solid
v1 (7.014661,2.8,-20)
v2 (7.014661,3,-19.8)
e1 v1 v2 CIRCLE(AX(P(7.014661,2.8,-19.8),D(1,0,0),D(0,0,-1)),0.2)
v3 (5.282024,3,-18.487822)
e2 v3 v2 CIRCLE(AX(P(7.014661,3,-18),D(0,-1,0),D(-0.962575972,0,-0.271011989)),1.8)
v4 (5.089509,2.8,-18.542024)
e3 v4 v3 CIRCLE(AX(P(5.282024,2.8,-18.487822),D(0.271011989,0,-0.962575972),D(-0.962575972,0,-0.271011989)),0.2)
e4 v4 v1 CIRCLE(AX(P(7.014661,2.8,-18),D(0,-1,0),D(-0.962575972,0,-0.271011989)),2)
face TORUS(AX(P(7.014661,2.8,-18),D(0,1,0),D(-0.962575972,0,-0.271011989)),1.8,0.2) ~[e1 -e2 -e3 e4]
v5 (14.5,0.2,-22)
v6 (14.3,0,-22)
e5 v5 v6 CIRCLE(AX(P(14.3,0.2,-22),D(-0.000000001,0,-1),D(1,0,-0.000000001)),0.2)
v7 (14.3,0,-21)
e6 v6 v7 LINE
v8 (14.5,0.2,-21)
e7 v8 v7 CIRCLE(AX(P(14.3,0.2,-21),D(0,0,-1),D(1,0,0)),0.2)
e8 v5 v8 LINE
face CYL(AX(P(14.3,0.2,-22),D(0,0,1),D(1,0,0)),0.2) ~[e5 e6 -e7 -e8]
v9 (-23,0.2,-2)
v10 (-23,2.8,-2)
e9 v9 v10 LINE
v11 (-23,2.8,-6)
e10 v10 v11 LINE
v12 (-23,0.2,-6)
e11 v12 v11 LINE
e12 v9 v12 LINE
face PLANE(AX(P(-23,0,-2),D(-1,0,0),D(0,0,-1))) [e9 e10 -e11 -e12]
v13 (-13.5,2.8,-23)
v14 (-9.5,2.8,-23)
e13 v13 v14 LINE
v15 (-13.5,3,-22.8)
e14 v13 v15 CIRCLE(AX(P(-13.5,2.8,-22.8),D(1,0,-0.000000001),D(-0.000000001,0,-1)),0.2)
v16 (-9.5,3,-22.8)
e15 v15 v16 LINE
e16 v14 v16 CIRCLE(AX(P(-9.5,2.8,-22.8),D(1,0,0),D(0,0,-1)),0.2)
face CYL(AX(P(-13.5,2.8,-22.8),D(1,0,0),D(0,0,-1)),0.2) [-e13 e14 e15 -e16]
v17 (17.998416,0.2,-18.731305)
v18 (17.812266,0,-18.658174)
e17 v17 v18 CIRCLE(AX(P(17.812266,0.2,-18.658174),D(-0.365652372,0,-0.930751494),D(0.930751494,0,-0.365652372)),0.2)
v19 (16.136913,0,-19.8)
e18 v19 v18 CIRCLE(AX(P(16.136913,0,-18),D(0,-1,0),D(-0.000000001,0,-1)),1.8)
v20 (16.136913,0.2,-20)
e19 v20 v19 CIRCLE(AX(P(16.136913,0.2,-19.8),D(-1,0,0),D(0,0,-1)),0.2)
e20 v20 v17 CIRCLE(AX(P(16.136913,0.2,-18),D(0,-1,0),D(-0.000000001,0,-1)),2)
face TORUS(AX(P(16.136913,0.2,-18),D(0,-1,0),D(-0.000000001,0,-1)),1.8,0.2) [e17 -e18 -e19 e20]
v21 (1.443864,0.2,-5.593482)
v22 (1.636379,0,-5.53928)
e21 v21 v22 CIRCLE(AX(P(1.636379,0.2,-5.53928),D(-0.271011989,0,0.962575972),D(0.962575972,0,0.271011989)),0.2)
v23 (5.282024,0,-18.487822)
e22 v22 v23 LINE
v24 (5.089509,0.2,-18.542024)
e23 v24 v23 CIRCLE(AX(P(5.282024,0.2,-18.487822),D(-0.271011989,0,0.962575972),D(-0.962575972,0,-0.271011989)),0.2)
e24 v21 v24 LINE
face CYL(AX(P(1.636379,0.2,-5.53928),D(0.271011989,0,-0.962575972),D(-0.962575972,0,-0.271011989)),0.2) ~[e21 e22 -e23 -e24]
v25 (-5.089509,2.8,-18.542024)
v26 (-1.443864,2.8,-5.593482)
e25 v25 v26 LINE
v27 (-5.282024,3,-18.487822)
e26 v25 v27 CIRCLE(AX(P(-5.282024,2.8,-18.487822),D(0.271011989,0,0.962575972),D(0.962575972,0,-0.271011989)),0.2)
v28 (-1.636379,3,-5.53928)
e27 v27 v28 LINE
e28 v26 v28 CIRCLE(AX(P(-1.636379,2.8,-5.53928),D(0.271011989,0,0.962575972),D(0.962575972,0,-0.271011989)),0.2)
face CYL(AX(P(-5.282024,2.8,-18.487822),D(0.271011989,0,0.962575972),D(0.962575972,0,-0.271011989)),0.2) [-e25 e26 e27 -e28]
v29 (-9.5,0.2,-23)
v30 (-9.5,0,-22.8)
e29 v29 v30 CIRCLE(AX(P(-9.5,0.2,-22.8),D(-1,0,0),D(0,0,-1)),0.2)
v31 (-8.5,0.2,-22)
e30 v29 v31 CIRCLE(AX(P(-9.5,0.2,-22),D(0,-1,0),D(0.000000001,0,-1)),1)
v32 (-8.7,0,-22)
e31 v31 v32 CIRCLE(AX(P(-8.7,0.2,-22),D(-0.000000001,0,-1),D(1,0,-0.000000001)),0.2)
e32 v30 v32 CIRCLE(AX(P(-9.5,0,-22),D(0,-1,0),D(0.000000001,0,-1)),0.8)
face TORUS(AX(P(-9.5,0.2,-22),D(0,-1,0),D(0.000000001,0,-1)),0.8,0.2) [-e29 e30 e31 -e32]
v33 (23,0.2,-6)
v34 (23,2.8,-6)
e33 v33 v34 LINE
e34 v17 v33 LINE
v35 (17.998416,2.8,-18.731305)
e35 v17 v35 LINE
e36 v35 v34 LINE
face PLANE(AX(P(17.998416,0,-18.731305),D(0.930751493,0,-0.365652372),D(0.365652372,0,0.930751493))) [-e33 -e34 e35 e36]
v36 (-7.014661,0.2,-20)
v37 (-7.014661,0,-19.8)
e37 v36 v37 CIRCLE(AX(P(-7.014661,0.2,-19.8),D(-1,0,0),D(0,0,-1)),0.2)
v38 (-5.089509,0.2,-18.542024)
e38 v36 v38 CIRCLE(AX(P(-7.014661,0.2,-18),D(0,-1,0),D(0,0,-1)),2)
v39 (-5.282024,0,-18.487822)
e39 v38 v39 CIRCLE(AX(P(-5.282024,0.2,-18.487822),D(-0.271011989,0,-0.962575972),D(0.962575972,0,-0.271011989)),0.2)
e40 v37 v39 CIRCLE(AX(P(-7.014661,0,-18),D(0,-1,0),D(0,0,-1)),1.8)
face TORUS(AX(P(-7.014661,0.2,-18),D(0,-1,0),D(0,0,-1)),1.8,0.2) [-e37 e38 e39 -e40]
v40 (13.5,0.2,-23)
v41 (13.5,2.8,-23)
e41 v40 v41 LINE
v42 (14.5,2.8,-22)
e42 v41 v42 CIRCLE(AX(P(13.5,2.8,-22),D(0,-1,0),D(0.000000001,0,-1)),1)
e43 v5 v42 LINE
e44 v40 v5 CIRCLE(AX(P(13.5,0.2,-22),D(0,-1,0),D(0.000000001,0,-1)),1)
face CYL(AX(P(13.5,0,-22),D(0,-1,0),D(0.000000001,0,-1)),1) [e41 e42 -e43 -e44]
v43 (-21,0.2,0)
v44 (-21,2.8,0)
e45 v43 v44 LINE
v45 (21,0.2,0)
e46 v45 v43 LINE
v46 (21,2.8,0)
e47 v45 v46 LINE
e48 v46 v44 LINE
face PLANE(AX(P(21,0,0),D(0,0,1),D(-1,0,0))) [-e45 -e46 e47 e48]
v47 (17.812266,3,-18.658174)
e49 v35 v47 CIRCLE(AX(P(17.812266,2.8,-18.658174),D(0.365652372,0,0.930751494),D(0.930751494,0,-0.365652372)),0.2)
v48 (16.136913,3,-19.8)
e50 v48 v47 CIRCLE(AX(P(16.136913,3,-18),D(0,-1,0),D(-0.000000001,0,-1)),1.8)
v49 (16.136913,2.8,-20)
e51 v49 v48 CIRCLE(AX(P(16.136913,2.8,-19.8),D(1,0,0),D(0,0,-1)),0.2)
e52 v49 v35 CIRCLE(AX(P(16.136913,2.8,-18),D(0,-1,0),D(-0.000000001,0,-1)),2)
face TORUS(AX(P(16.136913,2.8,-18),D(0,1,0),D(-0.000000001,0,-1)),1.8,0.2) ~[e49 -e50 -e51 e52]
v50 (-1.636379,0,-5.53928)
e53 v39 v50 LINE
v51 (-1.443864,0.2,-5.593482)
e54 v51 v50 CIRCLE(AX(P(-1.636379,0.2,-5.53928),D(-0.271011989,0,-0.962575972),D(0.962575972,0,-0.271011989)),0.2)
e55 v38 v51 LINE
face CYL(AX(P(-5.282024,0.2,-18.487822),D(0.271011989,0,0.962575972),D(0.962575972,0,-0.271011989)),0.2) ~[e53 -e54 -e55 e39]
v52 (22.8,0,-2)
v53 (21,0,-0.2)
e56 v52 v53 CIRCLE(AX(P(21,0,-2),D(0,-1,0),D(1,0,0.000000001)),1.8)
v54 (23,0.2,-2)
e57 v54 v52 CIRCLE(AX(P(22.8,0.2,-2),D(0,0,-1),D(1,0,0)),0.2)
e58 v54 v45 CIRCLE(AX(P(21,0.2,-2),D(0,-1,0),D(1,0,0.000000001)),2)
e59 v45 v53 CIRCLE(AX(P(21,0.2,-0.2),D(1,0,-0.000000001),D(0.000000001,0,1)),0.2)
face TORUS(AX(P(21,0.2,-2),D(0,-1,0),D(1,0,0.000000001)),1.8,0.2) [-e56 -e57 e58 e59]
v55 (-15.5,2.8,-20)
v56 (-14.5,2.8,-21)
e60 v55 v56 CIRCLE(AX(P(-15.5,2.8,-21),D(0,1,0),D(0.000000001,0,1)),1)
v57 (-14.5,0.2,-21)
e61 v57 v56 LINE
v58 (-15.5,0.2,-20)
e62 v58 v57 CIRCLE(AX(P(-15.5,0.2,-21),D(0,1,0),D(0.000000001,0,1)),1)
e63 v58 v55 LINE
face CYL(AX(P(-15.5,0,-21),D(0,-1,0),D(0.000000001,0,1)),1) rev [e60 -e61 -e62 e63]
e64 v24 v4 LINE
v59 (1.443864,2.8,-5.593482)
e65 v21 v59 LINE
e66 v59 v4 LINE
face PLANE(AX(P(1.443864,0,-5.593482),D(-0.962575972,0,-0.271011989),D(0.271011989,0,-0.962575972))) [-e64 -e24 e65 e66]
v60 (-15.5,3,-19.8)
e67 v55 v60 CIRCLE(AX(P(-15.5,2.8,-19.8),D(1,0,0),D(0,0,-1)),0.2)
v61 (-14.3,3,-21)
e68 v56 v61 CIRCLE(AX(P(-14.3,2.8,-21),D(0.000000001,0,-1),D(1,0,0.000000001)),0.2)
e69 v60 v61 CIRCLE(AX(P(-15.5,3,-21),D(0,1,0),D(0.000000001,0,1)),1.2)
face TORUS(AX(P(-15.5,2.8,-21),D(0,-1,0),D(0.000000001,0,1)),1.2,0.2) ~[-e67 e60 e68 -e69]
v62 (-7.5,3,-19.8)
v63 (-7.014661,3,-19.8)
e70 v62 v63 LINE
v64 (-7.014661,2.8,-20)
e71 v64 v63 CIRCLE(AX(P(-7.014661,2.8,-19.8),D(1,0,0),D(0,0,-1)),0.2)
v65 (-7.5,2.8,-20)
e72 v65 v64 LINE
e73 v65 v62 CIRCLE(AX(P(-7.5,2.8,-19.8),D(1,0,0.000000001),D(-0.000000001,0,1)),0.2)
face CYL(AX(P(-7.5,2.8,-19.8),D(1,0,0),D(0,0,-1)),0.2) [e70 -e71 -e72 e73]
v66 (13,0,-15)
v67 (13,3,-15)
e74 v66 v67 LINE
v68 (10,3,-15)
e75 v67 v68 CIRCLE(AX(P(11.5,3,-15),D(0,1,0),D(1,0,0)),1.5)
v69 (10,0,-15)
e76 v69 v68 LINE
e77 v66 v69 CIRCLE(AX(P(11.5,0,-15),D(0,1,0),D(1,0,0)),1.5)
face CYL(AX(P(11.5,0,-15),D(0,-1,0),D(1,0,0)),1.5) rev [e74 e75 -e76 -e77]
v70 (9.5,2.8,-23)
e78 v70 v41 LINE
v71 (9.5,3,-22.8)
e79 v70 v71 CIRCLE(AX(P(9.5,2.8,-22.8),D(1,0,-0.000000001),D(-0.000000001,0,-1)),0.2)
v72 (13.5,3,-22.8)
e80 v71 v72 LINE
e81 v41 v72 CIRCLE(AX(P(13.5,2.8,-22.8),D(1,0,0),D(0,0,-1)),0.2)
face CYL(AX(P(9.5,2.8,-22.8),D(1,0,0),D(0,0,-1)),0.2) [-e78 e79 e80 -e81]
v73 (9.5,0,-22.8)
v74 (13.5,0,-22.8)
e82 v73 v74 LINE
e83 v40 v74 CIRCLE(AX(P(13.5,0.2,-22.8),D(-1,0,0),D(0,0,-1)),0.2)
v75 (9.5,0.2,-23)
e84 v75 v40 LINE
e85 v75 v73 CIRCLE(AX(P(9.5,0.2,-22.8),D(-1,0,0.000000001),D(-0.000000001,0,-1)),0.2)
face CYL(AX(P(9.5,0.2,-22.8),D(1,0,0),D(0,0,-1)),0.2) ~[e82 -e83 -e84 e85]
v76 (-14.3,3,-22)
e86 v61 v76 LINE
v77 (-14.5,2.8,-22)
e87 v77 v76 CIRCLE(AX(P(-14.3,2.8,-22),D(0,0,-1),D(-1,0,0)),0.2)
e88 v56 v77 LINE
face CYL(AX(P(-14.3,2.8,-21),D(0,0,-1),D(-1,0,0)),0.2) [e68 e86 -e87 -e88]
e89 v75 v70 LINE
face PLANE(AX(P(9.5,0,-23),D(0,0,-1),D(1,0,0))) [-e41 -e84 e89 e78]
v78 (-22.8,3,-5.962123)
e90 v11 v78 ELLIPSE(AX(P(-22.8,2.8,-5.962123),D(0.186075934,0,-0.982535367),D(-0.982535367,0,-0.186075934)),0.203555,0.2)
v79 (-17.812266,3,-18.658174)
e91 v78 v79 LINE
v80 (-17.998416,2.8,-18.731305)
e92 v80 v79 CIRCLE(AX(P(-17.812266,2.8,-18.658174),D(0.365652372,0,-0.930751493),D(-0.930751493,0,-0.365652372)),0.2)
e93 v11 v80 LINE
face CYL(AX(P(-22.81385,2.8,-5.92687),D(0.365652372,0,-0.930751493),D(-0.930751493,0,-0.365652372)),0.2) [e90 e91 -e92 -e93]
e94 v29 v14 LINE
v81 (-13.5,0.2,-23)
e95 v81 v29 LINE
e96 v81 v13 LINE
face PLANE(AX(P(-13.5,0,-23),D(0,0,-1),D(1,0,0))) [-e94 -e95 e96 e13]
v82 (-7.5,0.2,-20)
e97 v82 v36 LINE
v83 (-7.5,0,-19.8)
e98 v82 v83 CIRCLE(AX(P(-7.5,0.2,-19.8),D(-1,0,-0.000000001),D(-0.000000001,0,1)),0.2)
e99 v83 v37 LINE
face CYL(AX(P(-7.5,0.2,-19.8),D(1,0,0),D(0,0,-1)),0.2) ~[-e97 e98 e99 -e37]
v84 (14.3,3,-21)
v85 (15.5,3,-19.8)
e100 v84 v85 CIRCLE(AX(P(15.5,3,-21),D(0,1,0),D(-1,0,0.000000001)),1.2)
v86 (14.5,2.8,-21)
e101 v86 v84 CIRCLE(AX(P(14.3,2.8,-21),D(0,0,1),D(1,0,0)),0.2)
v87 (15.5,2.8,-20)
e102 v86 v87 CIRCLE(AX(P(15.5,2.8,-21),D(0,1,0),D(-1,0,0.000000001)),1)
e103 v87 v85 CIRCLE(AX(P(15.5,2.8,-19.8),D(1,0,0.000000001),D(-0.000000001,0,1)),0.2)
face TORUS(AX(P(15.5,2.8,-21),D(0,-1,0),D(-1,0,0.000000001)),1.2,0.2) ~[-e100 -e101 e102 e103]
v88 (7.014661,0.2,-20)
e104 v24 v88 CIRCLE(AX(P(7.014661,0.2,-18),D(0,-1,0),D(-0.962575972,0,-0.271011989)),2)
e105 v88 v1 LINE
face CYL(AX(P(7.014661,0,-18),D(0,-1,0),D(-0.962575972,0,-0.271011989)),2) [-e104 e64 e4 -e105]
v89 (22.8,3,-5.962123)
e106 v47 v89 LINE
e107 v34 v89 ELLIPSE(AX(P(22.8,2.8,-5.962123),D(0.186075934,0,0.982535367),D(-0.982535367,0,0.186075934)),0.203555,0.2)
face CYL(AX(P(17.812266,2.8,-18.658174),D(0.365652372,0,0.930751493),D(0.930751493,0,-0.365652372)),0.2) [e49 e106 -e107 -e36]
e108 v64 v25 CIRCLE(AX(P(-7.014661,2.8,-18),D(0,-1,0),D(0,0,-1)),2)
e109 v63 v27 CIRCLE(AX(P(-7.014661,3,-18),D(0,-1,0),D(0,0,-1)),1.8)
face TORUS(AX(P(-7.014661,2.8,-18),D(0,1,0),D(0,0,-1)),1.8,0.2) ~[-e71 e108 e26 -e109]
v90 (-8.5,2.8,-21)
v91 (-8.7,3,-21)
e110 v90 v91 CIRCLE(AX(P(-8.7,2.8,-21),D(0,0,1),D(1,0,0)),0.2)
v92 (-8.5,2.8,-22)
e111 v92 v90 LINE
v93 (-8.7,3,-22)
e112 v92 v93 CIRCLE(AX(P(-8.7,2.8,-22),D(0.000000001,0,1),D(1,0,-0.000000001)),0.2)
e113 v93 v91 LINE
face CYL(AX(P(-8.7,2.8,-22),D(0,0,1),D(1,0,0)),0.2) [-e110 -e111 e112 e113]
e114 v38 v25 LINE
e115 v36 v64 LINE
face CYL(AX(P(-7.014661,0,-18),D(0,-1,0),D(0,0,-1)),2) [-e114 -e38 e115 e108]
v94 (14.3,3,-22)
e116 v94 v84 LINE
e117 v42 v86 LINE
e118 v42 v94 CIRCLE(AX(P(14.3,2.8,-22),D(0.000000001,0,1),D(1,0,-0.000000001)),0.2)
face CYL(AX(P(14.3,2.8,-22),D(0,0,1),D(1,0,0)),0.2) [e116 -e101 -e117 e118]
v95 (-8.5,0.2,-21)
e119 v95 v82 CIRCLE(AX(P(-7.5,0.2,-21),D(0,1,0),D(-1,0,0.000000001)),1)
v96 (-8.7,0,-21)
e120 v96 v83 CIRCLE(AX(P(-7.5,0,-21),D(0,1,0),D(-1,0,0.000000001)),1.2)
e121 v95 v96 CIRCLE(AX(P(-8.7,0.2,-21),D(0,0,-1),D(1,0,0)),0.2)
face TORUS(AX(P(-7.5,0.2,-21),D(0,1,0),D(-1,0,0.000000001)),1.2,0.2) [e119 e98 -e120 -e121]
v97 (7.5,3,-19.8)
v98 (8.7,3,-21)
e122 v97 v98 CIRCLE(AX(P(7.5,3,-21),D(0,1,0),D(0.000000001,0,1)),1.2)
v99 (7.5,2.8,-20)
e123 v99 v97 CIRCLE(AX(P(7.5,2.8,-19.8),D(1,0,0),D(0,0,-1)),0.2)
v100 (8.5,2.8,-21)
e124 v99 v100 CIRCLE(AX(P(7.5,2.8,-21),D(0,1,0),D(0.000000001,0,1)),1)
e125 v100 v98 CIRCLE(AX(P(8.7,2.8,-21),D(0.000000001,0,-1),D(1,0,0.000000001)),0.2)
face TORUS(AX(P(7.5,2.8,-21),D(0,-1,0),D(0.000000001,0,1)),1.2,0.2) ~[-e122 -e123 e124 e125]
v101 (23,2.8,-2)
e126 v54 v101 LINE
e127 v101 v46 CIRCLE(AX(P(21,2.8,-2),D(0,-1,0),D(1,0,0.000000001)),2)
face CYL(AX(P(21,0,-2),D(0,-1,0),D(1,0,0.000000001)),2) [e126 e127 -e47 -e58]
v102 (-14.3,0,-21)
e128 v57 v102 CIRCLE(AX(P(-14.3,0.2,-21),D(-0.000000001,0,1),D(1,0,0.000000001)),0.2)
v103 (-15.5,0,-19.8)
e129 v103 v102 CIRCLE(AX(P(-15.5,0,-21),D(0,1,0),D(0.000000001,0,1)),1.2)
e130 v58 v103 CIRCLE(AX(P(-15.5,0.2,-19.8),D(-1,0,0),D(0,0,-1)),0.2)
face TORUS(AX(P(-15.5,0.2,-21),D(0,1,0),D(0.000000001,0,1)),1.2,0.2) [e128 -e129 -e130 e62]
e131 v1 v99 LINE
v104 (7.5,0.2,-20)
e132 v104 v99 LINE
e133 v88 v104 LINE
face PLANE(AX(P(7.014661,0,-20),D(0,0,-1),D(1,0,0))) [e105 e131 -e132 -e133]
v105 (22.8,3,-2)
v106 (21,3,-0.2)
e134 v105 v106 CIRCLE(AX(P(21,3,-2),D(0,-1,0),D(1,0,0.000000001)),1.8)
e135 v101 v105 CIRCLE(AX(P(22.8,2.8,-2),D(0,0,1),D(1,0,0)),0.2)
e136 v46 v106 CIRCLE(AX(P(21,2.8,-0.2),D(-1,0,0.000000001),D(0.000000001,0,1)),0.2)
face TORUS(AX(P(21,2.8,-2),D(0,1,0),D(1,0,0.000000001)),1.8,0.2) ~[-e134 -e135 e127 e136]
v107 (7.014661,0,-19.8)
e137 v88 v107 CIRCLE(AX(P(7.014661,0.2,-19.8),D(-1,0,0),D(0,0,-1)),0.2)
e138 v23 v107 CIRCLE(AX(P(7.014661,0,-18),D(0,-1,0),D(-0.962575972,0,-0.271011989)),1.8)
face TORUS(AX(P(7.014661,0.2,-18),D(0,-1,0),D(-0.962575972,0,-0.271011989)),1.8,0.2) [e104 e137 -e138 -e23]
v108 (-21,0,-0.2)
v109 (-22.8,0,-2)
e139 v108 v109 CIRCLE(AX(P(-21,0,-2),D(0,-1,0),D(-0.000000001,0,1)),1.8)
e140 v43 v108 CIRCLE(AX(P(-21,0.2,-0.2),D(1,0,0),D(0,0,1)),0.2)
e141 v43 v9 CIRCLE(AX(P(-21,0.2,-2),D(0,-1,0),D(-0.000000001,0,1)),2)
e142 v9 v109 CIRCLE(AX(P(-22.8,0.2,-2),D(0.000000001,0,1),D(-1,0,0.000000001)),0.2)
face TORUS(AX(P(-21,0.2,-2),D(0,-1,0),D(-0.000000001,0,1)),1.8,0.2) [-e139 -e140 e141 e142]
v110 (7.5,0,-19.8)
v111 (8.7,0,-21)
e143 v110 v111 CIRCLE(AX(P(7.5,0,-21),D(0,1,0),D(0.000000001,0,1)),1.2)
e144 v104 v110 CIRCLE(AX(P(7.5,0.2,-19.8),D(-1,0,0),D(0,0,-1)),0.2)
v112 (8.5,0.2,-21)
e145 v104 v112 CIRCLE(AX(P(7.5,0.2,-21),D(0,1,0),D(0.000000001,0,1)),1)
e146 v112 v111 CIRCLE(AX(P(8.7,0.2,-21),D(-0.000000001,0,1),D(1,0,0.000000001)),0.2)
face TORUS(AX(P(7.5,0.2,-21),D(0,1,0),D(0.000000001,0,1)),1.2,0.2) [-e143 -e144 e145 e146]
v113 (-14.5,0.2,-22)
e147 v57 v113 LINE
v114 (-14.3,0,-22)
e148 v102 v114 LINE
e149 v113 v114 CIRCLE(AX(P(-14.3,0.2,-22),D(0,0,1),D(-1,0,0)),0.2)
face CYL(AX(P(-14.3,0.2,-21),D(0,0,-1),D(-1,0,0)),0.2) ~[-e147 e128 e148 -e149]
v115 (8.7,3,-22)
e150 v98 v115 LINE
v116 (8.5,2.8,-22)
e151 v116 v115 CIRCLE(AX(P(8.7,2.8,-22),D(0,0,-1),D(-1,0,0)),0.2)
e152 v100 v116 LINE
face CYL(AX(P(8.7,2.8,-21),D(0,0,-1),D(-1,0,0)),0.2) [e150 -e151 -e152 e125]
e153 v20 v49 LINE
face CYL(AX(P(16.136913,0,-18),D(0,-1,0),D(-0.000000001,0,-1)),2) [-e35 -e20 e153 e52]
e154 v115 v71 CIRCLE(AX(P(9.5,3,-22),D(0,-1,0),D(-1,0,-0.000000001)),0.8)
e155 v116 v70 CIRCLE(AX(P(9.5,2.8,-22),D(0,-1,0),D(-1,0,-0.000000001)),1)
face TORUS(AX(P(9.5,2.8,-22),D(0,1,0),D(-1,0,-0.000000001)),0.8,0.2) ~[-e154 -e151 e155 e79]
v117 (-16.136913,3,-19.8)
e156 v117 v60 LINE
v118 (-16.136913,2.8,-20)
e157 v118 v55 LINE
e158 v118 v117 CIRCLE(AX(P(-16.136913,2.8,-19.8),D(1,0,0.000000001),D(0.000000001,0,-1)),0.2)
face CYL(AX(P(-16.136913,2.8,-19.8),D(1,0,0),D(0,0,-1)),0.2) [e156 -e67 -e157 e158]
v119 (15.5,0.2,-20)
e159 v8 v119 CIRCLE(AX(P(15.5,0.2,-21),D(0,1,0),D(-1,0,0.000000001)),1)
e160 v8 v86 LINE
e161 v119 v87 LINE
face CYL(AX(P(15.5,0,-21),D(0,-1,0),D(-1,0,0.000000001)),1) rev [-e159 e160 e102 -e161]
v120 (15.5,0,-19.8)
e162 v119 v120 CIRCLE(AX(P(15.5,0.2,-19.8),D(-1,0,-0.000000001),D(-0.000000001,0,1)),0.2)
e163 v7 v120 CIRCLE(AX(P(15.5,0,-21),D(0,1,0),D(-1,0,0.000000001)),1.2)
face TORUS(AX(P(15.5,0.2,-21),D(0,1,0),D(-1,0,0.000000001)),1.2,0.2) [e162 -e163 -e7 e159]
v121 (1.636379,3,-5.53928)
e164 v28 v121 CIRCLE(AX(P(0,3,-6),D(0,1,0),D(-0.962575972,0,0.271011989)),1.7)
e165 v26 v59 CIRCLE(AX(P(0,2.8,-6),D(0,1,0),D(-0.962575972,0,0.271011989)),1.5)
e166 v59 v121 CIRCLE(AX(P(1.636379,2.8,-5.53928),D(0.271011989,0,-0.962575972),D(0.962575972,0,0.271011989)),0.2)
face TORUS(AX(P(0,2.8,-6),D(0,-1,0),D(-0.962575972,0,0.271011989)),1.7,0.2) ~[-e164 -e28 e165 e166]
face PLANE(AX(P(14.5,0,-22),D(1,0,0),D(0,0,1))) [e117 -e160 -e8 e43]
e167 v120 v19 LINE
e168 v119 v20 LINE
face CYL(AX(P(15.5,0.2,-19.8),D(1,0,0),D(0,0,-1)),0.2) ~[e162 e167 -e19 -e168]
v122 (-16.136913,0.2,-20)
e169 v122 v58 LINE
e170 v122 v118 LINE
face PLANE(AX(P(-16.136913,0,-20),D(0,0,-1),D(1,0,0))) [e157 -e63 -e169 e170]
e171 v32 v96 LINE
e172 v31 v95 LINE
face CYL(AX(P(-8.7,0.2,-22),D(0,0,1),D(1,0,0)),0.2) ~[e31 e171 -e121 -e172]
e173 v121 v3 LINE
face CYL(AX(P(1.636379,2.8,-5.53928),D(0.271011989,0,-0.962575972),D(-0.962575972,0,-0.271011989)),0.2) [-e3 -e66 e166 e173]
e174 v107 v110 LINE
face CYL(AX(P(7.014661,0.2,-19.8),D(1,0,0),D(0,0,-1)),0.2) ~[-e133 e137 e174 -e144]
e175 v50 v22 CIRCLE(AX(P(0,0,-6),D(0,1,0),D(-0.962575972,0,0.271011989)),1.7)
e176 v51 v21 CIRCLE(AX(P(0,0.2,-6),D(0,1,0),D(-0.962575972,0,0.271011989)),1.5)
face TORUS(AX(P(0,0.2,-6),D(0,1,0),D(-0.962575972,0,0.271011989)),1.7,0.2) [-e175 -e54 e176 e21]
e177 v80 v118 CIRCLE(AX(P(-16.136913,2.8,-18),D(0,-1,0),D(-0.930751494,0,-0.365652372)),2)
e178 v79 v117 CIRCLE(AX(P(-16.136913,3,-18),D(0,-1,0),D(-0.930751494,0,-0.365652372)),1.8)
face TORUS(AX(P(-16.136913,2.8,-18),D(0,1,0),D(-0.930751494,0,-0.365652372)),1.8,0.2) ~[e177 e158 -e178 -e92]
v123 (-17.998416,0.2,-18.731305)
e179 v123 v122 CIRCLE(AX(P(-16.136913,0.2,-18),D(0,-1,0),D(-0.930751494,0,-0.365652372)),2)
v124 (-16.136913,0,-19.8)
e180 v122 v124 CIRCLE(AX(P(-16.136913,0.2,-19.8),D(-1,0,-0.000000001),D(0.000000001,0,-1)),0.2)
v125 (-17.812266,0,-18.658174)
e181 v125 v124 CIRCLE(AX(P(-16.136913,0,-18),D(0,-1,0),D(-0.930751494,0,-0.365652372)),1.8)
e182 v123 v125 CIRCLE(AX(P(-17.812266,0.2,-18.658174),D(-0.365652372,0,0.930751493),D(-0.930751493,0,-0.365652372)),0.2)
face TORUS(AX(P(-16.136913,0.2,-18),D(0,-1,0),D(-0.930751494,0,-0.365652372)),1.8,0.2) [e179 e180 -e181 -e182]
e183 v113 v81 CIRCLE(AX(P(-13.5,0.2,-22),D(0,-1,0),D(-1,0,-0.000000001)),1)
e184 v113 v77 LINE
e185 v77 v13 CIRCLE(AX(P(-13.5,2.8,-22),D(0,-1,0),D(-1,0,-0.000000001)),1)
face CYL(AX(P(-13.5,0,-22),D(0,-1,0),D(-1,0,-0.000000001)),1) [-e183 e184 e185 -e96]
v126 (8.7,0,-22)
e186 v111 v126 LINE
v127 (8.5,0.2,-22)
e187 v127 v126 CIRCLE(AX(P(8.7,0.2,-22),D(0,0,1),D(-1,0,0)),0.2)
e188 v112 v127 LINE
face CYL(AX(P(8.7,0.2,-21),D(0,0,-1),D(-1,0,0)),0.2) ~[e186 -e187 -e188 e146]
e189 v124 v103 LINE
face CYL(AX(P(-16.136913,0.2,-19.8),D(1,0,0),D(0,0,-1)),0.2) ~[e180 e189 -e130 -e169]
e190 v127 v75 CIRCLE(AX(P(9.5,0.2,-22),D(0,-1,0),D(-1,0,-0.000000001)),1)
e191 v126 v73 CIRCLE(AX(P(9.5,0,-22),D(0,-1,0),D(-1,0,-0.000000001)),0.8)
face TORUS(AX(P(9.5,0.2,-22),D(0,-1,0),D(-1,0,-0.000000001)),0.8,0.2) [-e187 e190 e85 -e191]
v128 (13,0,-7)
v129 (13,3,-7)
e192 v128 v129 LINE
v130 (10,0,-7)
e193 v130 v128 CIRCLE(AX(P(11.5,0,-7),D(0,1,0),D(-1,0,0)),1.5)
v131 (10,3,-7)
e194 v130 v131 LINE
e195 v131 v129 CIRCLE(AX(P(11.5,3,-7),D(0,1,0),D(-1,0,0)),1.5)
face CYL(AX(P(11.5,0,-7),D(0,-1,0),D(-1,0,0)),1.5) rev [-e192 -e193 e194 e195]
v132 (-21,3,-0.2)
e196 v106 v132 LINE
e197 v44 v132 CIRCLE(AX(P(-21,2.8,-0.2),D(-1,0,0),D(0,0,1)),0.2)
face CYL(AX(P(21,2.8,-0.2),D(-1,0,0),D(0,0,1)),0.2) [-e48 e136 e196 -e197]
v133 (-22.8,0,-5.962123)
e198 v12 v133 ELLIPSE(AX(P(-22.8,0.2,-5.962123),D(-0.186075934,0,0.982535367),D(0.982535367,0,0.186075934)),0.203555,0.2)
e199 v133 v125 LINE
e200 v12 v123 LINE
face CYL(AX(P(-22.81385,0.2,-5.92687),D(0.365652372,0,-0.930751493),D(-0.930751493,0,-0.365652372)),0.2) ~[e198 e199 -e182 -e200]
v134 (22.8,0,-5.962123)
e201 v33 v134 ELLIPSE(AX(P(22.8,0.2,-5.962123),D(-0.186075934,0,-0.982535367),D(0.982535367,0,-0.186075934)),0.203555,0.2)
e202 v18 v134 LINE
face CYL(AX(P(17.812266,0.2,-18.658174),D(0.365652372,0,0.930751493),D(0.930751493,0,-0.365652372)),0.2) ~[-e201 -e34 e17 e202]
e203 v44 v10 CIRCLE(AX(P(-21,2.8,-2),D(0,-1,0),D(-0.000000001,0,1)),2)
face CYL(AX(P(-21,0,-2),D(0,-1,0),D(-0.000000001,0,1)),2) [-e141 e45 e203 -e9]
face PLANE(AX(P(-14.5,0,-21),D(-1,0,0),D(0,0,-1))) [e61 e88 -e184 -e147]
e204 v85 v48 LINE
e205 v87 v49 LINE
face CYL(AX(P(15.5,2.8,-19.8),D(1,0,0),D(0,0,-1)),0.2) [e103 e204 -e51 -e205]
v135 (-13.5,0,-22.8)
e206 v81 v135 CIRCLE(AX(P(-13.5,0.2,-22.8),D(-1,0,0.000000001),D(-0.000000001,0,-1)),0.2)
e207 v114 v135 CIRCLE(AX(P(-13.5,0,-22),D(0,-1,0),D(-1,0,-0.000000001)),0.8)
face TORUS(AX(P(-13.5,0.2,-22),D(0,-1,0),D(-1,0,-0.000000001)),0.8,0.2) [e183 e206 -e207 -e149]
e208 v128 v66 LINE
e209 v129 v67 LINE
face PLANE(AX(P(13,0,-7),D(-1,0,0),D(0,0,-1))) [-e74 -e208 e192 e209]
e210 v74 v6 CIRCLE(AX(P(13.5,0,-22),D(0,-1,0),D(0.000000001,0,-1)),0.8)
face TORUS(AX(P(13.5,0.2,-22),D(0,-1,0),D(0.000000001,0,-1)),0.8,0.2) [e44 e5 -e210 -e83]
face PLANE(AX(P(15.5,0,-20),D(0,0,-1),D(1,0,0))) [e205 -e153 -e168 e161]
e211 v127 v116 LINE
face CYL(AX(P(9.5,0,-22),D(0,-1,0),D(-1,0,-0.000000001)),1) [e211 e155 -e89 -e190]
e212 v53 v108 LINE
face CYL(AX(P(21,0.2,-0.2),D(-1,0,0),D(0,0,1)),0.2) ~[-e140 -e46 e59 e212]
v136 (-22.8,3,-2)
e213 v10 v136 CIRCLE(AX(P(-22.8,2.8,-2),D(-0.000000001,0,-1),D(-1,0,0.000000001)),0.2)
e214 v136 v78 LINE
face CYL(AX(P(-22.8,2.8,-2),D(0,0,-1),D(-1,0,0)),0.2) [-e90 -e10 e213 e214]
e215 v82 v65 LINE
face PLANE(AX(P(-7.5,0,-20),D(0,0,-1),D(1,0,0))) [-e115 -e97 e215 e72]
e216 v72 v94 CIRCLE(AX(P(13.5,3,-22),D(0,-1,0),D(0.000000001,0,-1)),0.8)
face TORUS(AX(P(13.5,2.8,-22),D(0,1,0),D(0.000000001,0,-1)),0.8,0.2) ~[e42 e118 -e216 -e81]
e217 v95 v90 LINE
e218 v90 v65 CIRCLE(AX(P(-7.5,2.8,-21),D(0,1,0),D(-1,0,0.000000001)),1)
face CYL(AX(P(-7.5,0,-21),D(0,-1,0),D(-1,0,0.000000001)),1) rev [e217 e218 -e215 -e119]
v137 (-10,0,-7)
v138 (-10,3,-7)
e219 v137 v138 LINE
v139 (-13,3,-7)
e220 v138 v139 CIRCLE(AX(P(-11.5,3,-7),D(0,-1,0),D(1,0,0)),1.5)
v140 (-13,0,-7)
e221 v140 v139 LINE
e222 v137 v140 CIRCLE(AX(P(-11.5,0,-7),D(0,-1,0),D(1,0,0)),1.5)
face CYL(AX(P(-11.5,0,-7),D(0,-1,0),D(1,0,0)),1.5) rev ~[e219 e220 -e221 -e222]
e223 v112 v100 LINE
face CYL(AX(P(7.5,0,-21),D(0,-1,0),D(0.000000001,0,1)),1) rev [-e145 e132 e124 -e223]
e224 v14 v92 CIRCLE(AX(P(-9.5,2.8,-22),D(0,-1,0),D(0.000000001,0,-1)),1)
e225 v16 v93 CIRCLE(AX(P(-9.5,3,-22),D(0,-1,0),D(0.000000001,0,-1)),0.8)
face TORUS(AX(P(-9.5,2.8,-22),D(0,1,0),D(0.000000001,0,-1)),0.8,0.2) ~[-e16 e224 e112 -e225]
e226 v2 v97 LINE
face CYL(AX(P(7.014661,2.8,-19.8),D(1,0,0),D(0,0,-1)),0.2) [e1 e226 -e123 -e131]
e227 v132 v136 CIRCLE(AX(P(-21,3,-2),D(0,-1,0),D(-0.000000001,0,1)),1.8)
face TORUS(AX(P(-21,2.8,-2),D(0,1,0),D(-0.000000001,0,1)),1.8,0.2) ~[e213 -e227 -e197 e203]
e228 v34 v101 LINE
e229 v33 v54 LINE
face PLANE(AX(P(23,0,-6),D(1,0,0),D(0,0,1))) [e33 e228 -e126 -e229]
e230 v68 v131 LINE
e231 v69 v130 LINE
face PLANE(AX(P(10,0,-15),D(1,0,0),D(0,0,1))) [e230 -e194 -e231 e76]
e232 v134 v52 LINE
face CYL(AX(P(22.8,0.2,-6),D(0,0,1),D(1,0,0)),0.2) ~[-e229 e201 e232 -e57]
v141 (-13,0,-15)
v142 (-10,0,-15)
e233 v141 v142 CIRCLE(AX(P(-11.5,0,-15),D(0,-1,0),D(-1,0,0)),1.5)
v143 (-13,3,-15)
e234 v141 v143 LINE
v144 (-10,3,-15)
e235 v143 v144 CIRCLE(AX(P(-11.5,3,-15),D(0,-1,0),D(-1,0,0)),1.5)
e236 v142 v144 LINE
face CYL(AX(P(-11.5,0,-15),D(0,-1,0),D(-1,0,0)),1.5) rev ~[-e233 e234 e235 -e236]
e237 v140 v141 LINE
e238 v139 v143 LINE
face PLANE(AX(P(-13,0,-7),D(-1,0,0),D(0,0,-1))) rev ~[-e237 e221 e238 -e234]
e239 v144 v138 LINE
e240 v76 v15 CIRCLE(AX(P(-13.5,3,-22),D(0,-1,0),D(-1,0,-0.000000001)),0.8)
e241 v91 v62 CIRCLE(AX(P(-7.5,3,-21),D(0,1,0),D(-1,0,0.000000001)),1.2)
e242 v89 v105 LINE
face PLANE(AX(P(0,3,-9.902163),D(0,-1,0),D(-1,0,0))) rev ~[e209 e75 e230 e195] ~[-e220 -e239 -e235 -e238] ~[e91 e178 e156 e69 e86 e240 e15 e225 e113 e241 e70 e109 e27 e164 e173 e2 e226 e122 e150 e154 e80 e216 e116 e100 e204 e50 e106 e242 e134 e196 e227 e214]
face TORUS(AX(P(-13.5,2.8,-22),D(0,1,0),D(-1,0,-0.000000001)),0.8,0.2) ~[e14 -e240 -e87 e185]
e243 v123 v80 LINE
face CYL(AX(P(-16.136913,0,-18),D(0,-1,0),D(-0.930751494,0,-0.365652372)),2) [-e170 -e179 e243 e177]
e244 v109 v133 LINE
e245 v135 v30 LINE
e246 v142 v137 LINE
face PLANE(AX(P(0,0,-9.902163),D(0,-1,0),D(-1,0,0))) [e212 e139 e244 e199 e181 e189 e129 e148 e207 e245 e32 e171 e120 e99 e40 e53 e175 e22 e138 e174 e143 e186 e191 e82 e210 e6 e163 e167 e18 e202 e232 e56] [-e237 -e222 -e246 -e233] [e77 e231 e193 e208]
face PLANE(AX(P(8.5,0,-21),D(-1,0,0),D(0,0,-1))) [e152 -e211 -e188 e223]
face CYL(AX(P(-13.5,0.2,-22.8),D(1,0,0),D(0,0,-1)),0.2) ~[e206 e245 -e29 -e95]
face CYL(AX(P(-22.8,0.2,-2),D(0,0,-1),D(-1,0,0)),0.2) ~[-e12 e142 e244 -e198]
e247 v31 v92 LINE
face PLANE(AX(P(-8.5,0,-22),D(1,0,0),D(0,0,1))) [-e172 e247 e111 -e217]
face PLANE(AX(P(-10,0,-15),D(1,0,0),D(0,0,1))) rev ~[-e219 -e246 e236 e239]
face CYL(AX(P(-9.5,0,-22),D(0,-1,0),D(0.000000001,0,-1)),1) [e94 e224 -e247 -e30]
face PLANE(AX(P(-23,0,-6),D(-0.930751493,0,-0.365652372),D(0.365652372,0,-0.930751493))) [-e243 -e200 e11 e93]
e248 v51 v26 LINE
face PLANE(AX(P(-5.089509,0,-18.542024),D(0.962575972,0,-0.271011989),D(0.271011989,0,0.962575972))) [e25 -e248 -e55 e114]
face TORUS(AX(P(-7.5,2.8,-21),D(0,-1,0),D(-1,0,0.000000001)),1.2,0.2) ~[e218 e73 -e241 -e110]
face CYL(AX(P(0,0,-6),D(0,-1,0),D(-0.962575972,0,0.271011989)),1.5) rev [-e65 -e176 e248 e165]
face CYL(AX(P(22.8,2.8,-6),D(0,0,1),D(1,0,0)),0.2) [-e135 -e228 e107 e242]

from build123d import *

# Parameters (mm, degrees)
BOSS_EXTRUDE1_DEPTH = 3
FILLET1_R           = 0.2


with BuildPart() as part:
    # Sketch1 → Boss-Extrude1 (new body)
    with BuildSketch(Plane(origin=(0, 0, 0), x_dir=(1, 0, 0), z_dir=(0, 1, 0))):
        with BuildLine():
            Line((21, 0), (-21, 0))
            ThreePointArc((-21, 0), (-22.414213562, 0.585786438), (-23, 2))
            Line((-23, 2), (-23, 6))
            Line((-23, 6), (-17.998415993, 18.731304745))
            ThreePointArc((-17.998415993, 18.731304745), (-17.263276738, 19.652665951), (-16.136913006, 20))
            Line((-16.136913006, 20), (-15.5, 20))
            ThreePointArc((-15.5, 20), (-14.792893219, 20.292893219), (-14.5, 21))
            Line((-14.5, 21), (-14.5, 22))
            ThreePointArc((-14.5, 22), (-14.207106781, 22.707106781), (-13.5, 23))
            Line((-13.5, 23), (-9.5, 23))
            ThreePointArc((-9.5, 23), (-8.792893219, 22.707106781), (-8.5, 22))
            Line((-8.5, 22), (-8.5, 21))
            ThreePointArc((-8.5, 21), (-8.207106781, 20.292893219), (-7.5, 20))
            Line((-7.5, 20), (-7.014660728, 20))
            ThreePointArc((-7.014660728, 20), (-5.807193949, 19.594372597), (-5.089508784, 18.542023978))
            Line((-5.089508784, 18.542023978), (-1.443863958, 5.593482017))
            ThreePointArc((-1.443863958, 5.593482017), (0, 4.5), (1.443863958, 5.593482017))
            Line((1.443863958, 5.593482017), (5.089508784, 18.542023978))
            ThreePointArc((5.089508784, 18.542023978), (5.807193949, 19.594372597), (7.014660728, 20))
            Line((7.014660728, 20), (7.5, 20))
            ThreePointArc((7.5, 20), (8.207106781, 20.292893219), (8.5, 21))
            Line((8.5, 21), (8.5, 22))
            ThreePointArc((8.5, 22), (8.792893219, 22.707106781), (9.5, 23))
            Line((9.5, 23), (13.5, 23))
            ThreePointArc((13.5, 23), (14.207106781, 22.707106781), (14.5, 22))
            Line((14.5, 22), (14.5, 21))
            ThreePointArc((14.5, 21), (14.792893219, 20.292893219), (15.5, 20))
            Line((15.5, 20), (16.136913006, 20))
            ThreePointArc((16.136913006, 20), (17.263276738, 19.652665951), (17.998415993, 18.731304745))
            Line((17.998415993, 18.731304745), (23, 6))
            Line((23, 6), (23, 2))
            ThreePointArc((23, 2), (22.414213562, 0.585786438), (21, 0))
        make_face()
        with BuildLine():
            Line((-13, 7), (-13, 15))
            ThreePointArc((-13, 15), (-11.5, 16.5), (-10, 15))
            Line((-10, 15), (-10, 7))
            ThreePointArc((-10, 7), (-11.5, 5.5), (-13, 7))
        make_face(mode=Mode.SUBTRACT)
        with BuildLine():
            Line((13, 7), (13, 15))
            ThreePointArc((13, 15), (11.5, 16.5), (10, 15))
            Line((10, 15), (10, 7))
            ThreePointArc((10, 7), (11.5, 5.5), (13, 7))
        make_face(mode=Mode.SUBTRACT)
    extrude(amount=BOSS_EXTRUDE1_DEPTH)

    # Fillet1
    fillet1_edges = [part.edges().sort_by_distance(p)[0] for p in [
        (-22.414213562, 3, -0.585786438),
        (0, 3, 0),
        (22.414213562, 3, -0.585786438),
        (23, 3, -4),
        (20.499207997, 3, -12.365652372),
        (17.263276738, 3, -19.652665951),
        (-17.263276738, 0, -19.652665951),
        (-15.818456503, 0, -20),
        (-14.792893219, 0, -20.292893219),
        (15.818456503, 3, -20),
        (-14.5, 0, -21.5),
        (-14.207106781, 0, -22.707106781),
        (-11.5, 0, -23),
        (-8.792893219, 0, -22.707106781),
        (-8.5, 0, -21.5),
        (-8.207106781, 0, -20.292893219),
        (-7.257330364, 0, -20),
        (-5.807193949, 0, -19.594372597),
        (14.792893219, 3, -20.292893219),
        (-3.266686371, 0, -12.067752997),
        (0, 0, -4.5),
        (3.266686371, 0, -12.067752997),
        (5.807193949, 0, -19.594372597),
        (7.257330364, 0, -20),
        (8.207106781, 0, -20.292893219),
        (8.5, 0, -21.5),
        (14.5, 3, -21.5),
        (8.792893219, 0, -22.707106781),
        (11.5, 0, -23),
        (14.207106781, 0, -22.707106781),
        (14.5, 0, -21.5),
        (14.792893219, 0, -20.292893219),
        (15.818456503, 0, -20),
        (17.263276738, 0, -19.652665951),
        (20.499207997, 0, -12.365652372),
        (14.207106781, 3, -22.707106781),
        (23, 0, -4),
        (22.414213562, 0, -0.585786438),
        (0, 0, 0),
        (-22.414213562, 0, -0.585786438),
        (-23, 0, -4),
        (-20.499207997, 0, -12.365652372),
        (-20.499207997, 3, -12.365652372),
        (11.5, 3, -23),
        (8.792893219, 3, -22.707106781),
        (8.5, 3, -21.5),
        (8.207106781, 3, -20.292893219),
        (7.257330364, 3, -20),
        (5.807193949, 3, -19.594372597),
        (3.266686371, 3, -12.067752997),
        (0, 3, -4.5),
        (-3.266686371, 3, -12.067752997),
        (-5.807193949, 3, -19.594372597),
        (-23, 3, -4),
        (-7.257330364, 3, -20),
        (-8.207106781, 3, -20.292893219),
        (-8.5, 3, -21.5),
        (-8.792893219, 3, -22.707106781),
        (-11.5, 3, -23),
        (-14.207106781, 3, -22.707106781),
        (-14.5, 3, -21.5),
        (-14.792893219, 3, -20.292893219),
        (-15.818456503, 3, -20),
        (-17.263276738, 3, -19.652665951),
    ]]
    fillet(fillet1_edges, radius=FILLET1_R)


solid = part.part
